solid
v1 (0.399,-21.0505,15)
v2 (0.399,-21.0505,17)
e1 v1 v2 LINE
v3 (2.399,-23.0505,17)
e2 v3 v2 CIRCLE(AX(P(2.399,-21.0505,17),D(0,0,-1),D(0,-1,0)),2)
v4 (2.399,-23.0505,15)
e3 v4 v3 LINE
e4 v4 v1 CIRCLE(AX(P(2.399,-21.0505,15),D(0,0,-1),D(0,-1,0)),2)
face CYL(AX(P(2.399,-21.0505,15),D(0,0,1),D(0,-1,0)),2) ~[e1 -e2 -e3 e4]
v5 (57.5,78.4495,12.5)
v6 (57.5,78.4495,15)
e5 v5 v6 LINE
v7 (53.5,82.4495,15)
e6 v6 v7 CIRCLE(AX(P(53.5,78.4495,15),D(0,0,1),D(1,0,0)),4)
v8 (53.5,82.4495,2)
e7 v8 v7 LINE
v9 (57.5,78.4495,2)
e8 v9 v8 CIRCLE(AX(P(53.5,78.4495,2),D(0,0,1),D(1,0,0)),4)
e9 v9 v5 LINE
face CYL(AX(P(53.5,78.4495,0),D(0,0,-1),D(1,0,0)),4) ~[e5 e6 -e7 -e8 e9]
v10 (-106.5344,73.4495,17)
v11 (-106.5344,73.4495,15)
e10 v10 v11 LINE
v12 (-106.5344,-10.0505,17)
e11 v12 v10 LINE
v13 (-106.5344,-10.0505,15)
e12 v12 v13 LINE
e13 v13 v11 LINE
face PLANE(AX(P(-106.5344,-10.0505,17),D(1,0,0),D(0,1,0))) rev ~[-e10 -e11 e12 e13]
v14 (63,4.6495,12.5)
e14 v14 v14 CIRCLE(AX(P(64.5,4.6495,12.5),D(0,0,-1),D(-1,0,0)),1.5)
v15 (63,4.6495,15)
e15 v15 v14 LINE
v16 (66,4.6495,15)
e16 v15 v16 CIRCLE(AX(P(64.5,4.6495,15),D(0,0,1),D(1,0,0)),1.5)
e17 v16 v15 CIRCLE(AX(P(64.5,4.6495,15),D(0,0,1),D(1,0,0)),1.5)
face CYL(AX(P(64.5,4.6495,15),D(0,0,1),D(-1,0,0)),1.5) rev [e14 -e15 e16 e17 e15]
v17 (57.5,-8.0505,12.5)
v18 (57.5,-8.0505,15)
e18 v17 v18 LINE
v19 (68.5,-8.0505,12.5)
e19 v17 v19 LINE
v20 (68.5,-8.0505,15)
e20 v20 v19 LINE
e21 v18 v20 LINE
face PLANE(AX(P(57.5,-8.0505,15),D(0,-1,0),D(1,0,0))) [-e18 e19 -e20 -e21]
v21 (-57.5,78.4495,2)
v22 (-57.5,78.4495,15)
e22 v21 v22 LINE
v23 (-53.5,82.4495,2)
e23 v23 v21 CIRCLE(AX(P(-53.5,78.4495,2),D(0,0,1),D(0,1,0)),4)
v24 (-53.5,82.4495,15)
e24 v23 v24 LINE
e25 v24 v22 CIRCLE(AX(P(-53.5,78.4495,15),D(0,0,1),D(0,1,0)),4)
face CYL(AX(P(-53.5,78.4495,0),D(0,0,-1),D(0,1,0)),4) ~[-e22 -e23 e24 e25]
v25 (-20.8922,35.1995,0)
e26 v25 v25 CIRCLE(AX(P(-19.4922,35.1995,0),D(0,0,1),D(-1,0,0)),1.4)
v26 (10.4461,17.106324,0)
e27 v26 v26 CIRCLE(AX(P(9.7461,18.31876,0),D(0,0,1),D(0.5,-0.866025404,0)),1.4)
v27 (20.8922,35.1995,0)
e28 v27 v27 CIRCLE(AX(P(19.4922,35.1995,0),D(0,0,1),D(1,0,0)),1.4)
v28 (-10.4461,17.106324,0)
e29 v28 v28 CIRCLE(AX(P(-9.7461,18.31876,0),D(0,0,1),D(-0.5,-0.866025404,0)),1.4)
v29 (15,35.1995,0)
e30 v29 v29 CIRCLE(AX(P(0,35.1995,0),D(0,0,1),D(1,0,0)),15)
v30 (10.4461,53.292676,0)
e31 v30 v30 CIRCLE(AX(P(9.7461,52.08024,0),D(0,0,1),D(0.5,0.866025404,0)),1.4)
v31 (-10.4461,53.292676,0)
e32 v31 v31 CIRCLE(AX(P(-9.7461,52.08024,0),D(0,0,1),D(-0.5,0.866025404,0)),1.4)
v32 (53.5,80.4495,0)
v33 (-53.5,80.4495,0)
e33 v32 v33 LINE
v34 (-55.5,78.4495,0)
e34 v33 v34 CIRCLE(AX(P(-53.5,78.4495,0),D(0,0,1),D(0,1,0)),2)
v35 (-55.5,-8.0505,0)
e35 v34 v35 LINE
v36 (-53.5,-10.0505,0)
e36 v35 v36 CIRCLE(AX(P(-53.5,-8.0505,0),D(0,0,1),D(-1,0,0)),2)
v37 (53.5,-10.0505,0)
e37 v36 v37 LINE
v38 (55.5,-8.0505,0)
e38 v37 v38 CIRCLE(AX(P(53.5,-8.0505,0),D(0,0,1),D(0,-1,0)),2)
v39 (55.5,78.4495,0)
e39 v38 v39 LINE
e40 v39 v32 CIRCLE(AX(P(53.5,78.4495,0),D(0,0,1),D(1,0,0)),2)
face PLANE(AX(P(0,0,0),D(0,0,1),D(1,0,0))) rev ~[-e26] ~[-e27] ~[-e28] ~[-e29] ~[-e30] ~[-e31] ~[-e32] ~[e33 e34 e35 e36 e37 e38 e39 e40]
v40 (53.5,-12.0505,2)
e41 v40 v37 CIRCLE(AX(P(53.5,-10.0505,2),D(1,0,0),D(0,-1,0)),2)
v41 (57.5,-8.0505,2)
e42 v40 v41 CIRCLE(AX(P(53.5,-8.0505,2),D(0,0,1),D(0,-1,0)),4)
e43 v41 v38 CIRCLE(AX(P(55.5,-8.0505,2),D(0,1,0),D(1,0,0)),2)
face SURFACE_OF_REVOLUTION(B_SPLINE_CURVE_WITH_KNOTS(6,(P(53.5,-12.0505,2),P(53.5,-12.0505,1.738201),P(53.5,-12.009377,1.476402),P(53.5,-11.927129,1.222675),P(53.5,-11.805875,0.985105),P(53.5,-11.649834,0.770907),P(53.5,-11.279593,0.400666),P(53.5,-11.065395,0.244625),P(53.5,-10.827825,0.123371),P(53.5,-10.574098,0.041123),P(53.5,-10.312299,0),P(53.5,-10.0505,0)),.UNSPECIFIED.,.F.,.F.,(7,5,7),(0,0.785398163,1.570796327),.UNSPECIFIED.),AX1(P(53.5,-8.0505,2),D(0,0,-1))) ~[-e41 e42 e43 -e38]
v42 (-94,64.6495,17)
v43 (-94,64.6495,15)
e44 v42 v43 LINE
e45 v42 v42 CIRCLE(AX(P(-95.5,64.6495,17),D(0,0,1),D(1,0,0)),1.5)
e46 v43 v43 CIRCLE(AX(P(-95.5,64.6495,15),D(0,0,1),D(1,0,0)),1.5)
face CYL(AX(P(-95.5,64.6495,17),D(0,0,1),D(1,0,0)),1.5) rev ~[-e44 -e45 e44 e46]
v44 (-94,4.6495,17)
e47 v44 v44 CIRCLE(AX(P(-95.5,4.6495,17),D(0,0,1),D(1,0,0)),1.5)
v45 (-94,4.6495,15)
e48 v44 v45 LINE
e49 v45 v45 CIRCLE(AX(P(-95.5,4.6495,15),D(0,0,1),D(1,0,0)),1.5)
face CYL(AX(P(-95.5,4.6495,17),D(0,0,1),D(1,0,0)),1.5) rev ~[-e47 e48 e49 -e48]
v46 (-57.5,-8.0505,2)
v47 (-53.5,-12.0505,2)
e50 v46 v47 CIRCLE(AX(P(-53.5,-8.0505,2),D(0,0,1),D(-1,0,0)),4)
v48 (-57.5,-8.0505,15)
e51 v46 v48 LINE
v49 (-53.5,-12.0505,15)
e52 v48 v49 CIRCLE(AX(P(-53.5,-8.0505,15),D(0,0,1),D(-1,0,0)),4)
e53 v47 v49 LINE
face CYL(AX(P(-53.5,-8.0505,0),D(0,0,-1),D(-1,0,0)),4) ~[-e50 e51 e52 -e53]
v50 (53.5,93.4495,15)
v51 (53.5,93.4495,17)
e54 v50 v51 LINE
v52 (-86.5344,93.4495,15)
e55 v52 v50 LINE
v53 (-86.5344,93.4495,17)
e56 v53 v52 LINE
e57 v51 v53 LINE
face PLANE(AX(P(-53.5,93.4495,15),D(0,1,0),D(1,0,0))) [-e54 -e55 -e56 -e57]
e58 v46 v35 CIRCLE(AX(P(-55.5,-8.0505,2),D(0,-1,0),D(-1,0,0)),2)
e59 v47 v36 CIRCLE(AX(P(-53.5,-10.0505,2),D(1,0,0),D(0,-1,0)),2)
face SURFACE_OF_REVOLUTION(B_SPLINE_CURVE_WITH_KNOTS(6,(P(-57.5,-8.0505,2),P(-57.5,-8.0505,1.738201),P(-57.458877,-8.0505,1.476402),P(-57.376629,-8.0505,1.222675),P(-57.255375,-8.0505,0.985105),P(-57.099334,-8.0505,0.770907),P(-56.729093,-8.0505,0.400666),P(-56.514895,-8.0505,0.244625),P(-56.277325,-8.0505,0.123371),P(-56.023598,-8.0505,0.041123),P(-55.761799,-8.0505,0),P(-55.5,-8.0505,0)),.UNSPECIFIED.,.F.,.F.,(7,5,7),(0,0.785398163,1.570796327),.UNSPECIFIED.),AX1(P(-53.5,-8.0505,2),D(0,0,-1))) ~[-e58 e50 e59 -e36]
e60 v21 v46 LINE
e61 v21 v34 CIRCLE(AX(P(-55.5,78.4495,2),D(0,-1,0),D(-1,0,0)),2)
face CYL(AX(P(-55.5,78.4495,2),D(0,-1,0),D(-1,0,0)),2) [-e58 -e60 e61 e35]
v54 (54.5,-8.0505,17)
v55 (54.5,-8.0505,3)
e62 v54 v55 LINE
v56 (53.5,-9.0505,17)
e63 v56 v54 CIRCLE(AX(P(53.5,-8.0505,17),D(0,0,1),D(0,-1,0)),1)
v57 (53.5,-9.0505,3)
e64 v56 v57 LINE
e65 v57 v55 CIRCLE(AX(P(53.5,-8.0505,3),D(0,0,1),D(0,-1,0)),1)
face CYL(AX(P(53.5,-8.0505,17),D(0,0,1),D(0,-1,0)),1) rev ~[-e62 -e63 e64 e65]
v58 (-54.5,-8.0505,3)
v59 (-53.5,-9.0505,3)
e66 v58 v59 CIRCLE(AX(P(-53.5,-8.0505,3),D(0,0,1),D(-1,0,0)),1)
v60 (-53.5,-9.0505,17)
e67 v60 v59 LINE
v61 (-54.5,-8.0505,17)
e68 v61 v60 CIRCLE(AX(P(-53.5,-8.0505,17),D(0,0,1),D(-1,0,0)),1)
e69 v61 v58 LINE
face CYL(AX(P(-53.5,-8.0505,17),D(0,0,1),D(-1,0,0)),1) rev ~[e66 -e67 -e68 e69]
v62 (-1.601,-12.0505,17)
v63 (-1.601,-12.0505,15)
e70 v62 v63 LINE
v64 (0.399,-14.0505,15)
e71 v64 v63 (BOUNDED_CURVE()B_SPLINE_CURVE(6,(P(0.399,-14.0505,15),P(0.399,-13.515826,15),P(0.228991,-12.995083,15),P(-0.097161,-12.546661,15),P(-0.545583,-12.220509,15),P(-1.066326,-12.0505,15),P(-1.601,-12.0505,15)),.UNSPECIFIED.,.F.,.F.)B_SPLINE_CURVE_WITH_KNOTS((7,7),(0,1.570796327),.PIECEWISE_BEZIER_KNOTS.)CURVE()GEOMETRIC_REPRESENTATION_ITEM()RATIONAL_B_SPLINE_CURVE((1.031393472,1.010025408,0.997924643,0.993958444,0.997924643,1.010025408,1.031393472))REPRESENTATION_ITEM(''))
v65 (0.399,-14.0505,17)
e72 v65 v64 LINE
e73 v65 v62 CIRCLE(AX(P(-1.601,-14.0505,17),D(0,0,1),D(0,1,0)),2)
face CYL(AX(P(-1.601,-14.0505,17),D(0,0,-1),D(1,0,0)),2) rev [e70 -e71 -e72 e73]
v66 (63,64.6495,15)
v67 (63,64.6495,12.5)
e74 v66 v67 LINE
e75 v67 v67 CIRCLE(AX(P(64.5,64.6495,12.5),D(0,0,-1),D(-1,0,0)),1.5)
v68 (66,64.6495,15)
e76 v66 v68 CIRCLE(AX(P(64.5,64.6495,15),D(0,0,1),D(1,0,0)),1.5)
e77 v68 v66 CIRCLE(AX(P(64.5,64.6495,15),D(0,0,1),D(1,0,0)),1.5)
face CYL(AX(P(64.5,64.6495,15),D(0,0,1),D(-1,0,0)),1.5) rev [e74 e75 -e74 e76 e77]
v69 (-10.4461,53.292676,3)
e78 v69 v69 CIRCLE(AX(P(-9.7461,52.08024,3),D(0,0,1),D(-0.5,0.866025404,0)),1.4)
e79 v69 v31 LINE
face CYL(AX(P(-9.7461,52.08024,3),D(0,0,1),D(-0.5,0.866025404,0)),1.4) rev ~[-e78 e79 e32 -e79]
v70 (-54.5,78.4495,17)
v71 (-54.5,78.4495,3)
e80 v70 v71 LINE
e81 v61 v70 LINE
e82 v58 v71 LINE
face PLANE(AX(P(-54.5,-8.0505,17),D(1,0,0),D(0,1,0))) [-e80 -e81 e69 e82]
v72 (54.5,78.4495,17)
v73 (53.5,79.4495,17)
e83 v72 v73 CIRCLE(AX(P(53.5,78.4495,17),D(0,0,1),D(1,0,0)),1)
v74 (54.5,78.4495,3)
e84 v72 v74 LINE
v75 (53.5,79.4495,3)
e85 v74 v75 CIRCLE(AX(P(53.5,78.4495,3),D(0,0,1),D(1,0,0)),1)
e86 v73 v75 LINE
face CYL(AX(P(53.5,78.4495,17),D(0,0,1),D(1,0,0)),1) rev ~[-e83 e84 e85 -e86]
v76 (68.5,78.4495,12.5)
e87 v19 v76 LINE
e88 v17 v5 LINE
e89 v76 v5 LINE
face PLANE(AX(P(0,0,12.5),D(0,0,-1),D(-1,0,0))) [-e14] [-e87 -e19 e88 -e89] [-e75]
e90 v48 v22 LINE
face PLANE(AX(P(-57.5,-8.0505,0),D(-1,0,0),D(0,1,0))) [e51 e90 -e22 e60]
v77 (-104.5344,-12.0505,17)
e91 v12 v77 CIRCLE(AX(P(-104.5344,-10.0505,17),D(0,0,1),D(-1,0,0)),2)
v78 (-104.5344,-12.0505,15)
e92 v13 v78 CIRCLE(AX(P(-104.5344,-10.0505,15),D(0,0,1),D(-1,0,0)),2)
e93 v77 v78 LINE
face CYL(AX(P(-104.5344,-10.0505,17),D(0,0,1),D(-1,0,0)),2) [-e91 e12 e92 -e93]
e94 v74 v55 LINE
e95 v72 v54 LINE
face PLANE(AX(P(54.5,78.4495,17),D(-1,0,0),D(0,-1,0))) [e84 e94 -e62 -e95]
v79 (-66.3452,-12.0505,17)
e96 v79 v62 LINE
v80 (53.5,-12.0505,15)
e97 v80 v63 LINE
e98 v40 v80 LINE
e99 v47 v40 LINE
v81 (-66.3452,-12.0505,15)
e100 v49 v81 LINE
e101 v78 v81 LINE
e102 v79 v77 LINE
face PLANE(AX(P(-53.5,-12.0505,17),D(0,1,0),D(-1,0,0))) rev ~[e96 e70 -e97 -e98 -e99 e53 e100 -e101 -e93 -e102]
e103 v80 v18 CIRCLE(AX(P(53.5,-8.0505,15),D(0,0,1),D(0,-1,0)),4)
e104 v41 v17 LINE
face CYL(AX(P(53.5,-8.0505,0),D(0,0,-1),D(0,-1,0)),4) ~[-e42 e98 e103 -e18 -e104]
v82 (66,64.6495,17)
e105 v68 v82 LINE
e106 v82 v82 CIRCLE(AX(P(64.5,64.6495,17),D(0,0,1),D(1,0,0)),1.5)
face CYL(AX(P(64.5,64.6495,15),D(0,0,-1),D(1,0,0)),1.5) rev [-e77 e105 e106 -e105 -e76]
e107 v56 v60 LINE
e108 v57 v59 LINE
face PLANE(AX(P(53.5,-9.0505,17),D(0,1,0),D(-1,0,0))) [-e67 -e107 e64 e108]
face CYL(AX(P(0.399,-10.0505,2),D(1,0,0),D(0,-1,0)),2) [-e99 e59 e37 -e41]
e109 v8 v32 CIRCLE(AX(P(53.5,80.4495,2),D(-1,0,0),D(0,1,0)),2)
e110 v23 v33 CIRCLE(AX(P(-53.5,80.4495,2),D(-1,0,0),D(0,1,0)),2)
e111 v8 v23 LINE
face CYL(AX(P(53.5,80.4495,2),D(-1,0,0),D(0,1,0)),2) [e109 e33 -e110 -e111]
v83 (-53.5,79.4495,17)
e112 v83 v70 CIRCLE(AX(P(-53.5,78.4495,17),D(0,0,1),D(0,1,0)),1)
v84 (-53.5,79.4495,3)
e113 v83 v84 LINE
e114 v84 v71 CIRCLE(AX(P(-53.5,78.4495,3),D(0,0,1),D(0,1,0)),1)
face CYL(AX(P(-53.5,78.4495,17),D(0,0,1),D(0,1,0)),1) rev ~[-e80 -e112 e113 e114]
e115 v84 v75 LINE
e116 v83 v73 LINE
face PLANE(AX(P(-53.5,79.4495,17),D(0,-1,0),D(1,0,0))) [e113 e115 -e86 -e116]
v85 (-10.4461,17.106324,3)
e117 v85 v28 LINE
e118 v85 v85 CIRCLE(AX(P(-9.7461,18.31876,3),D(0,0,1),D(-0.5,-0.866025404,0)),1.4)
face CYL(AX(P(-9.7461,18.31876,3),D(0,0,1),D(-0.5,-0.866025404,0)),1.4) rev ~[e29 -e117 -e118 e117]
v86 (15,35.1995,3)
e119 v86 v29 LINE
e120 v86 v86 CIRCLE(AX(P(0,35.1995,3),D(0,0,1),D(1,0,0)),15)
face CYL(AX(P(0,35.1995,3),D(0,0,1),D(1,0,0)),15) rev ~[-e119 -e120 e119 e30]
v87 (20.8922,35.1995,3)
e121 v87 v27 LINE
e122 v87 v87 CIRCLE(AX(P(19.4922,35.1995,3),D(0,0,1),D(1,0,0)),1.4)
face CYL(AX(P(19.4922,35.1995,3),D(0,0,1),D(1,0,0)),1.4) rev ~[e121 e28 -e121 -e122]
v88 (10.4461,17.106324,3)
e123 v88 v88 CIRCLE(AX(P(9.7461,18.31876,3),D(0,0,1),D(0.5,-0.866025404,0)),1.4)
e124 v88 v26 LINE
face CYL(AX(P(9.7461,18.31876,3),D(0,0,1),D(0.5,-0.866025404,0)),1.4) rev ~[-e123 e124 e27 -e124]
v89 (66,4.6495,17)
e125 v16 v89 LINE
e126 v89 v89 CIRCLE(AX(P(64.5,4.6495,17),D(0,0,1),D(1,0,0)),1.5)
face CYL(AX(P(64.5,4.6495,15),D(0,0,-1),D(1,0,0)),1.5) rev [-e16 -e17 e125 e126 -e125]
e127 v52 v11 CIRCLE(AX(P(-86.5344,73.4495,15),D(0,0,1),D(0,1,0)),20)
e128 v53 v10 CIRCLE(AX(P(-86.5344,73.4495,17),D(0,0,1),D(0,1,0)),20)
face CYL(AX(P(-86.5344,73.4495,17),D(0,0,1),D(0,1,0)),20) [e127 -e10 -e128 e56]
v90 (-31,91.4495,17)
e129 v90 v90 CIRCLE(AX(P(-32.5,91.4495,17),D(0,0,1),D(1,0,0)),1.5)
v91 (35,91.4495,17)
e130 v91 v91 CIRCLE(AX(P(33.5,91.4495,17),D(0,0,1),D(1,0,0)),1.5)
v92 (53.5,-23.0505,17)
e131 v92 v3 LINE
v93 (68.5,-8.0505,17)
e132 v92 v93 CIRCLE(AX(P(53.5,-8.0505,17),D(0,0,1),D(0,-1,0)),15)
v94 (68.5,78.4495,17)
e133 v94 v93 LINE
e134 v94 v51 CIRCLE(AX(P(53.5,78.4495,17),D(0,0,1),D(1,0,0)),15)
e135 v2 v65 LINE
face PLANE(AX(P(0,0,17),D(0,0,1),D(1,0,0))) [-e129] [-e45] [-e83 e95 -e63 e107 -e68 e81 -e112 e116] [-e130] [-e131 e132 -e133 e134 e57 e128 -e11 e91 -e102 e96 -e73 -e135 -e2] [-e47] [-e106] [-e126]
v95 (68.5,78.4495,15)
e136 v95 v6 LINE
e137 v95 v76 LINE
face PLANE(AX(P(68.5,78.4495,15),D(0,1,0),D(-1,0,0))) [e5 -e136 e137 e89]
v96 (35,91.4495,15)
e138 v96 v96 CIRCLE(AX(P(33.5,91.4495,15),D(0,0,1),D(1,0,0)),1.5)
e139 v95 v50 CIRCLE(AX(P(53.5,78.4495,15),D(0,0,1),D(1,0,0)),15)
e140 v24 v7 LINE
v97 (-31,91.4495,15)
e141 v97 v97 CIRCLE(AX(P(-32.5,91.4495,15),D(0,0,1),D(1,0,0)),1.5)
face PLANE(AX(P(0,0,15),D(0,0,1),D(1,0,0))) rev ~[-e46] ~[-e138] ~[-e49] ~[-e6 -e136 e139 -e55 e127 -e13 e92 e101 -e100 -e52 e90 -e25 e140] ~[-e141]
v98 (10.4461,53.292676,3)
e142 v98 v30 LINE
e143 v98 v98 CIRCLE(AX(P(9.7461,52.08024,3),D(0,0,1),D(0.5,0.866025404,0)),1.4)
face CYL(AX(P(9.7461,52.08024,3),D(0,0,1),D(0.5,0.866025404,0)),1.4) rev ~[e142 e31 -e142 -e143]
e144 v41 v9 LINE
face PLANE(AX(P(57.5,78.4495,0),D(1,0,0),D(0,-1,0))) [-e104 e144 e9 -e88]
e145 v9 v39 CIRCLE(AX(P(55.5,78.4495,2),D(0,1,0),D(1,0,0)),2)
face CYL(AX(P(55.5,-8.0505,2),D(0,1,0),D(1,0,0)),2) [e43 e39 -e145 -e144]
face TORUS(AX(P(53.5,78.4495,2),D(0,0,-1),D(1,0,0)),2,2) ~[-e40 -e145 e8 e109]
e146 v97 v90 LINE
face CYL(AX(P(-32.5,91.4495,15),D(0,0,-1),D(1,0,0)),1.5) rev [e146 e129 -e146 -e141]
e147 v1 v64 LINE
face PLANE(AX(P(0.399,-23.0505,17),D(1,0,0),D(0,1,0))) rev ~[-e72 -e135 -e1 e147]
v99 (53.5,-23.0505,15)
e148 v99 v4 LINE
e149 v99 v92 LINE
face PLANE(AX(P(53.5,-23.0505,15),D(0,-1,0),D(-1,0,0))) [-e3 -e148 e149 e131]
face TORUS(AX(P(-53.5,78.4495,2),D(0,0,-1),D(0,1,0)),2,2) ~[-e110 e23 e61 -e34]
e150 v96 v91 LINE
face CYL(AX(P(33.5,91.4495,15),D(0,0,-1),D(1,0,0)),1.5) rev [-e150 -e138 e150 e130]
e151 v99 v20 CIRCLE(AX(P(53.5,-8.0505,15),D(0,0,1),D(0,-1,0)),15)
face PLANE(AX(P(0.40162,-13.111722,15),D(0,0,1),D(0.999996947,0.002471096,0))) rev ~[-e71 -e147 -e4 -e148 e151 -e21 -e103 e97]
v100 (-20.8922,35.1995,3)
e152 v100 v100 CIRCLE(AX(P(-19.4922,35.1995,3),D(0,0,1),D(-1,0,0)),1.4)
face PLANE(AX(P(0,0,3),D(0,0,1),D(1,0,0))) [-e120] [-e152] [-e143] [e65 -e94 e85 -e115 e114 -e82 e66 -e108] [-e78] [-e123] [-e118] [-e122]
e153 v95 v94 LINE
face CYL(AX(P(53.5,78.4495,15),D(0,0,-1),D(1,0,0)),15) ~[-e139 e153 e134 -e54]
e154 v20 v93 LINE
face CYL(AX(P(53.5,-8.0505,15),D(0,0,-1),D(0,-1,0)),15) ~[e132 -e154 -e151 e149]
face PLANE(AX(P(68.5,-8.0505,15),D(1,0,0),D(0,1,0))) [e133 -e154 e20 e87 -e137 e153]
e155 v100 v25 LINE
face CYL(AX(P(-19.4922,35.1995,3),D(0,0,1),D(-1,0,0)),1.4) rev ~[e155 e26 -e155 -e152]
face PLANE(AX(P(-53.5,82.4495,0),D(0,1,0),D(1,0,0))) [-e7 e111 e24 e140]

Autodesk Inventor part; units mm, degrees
ref_plane "YZ Plane" through (0, 0, 0) normal (1, 0, 0) x (0, 1, 0)
ref_plane "XZ Plane" through (0, 0, 0) normal (0, 1, 0) x (-1, 0, 0)
ref_plane "XY Plane" through (0, 0, 0) normal (0, 0, 1) x (1, 0, 0)
sketch "Sketch1" plane through (0, 0, 0) normal (0, 0, 1) x (1, 0, 0)
  line L0 (53.5, -12.0505) -> (-53.5, -12.0505)
  line L1 (-57.5, -8.0505) -> (-57.5, 78.4495)
  line L2 (-53.5, 82.4495) -> (53.5, 82.4495)
  line L3 (57.5, 78.4495) -> (57.5, -8.0505)
  line L4 (57.5, -12.0505) -> (-57.5, 82.4495) construction
  line L5 (-57.5, -12.0505) -> (57.5, 82.4495) construction
  arc A0 (-53.5, 82.4495) -> (-57.5, 78.4495) centre (-53.5, 78.4495) ccw
  arc A1 (57.5, 78.4495) -> (53.5, 82.4495) centre (53.5, 78.4495) ccw
  arc A2 (53.5, -12.0505) -> (57.5, -8.0505) centre (53.5, -8.0505) ccw
  arc A3 (-57.5, -8.0505) -> (-53.5, -12.0505) centre (-53.5, -8.0505) ccw
  point P0 (0, 0)
  point P1 (0, 35.1995)
  dimension "d0" = 115
  dimension "d1" = 94.5
  dimension "d2" = 4
extrude "Extrusion1" add sketch "Sketch1" along normal blind 15
sketch "Sketch2" plane through (0, 0, 15) normal (0, 0, 1) x (1, 0, 0)
  line L0 (53.5, 82.4495) -> (-53.5, 82.4495) projected
  arc A0 (-53.5, 82.4495) -> (-57.5, 78.4495) centre (-53.5, 78.4495) ccw projected
  line L1 (-57.5, 78.4495) -> (-57.5, -8.0505) projected
  arc A1 (-57.5, -8.0505) -> (-53.5, -12.0505) centre (-53.5, -8.0505) ccw projected
  line L2 (-53.5, -12.0505) -> (53.5, -12.0505) projected
  arc A2 (53.5, -12.0505) -> (57.5, -8.0505) centre (53.5, -8.0505) ccw projected
  line L3 (57.5, -8.0505) -> (57.5, 78.4495) projected
  arc A3 (57.5, 78.4495) -> (53.5, 82.4495) centre (53.5, 78.4495) ccw projected
  line L4 (-53.5, 93.4495) -> (53.5, 93.4495)
  arc A4 (68.5, 78.4495) -> (53.5, 93.4495) centre (53.5, 78.4495) ccw
  line L5 (68.5, 78.4495) -> (68.5, -8.0505)
  arc A5 (53.5, -23.0505) -> (68.5, -8.0505) centre (53.5, -8.0505) ccw
  line L6 (53.5, -23.0505) -> (-53.5, -23.0505)
  arc A6 (-68.5, -8.0505) -> (-53.5, -23.0505) centre (-53.5, -8.0505) ccw
  line L7 (-68.5, -8.0505) -> (-68.5, 78.4495)
  arc A7 (-53.5, 93.4495) -> (-68.5, 78.4495) centre (-53.5, 78.4495) ccw
  circle A8 centre (-32.5, 91.4495) radius 1.5
  circle A9 centre (33.5, 91.4495) radius 1.5
  circle A10 centre (64.5, 64.6495) radius 1.5
  circle A11 centre (64.5, 4.6495) radius 1.5
  point P0 (0, 0)
  dimension "d5" = 11
  dimension "d6" = 3
  dimension "d7" = 3
  dimension "d8" = 3
  dimension "d9" = 3
  dimension "d10" = 24
  dimension "d11" = 66
  dimension "d12" = 9
  dimension "d13" = 7
  dimension "d14" = 7
  dimension "d15" = 17.8
  dimension "d16" = 60
extrude "Extrusion2" add sketch "Sketch2" along normal blind 2 contours A3 L3 A2 L2 A1 L1 A0 L0 | L4 A4 L5 A5 L6 A6 L7 A7
sketch "Sketch3" plane through (0, 0, 15) normal (0, 0, -1) x (-1, 0, 0)
  circle A0 centre (-64.5, 4.6495) radius 1.5 projected
  circle A1 centre (-64.5, 64.6495) radius 1.5 projected
  circle A2 centre (-33.5, 91.4495) radius 1.5 projected
  circle A3 centre (32.5, 91.4495) radius 1.5 projected
  line L0 (53.5, -23.0505) -> (-53.5, -23.0505) projected
  arc A4 (53.5, -23.0505) -> (68.5, -8.0505) centre (53.5, -8.0505) ccw projected
  line L1 (68.5, 78.4495) -> (68.5, -8.0505) projected
  arc A5 (68.5, 78.4495) -> (53.5, 93.4495) centre (53.5, 78.4495) ccw projected
  line L2 (-53.5, 93.4495) -> (53.5, 93.4495) projected
  arc A6 (-53.5, 93.4495) -> (-68.5, 78.4495) centre (-53.5, 78.4495) ccw projected
  line L3 (-68.5, -8.0505) -> (-68.5, 78.4495) projected
  arc A7 (-68.5, -8.0505) -> (-53.5, -23.0505) centre (-53.5, -8.0505) ccw projected
  arc A8 (-53.5, 82.4495) -> (-57.5, 78.4495) centre (-53.5, 78.4495) ccw projected
  line L4 (-53.5, 82.4495) -> (53.5, 82.4495) projected
  arc A9 (57.5, 78.4495) -> (53.5, 82.4495) centre (53.5, 78.4495) ccw projected
  line L5 (57.5, 78.4495) -> (57.5, -8.0505) projected
  arc A10 (53.5, -12.0505) -> (57.5, -8.0505) centre (53.5, -8.0505) ccw projected
  line L6 (53.5, -12.0505) -> (-53.5, -12.0505) projected
  arc A11 (-57.5, -8.0505) -> (-53.5, -12.0505) centre (-53.5, -8.0505) ccw projected
  line L7 (-57.5, -8.0505) -> (-57.5, 78.4495) projected
  arc A12 (-53.5, 93.4495) -> (-68.5, 78.4495) centre (-53.5, 78.4495) ccw projected
  line L8 (-57.5, -8.0505) -> (-57.5, 78.4495) projected
  line L9 (-68.5, 78.4495) -> (-57.5, 78.4495)
  line L10 (-57.5, 78.4495) -> (-57.5, -8.0505)
  line L11 (-57.5, -8.0505) -> (-68.5, -8.0505)
  line L12 (-68.5, -8.0505) -> (-68.5, 78.4495)
  point P0 (0, 0)
  point P1 (-68.5, -0.3835)
extrude "Extrusion3" add sketch "Sketch3" along normal blind 2.5 contours L3 L9 L7 L11
sketch "Sketch4" plane through (0, 0, 17) normal (0, 0, 1) x (1, 0, 0)
  line L0 (53.5, 82.4495) -> (-53.5, 82.4495) projected
  arc A0 (57.5, 78.4495) -> (53.5, 82.4495) centre (53.5, 78.4495) ccw projected
  line L1 (57.5, -8.0505) -> (57.5, 78.4495) projected
  arc A1 (53.5, -12.0505) -> (57.5, -8.0505) centre (53.5, -8.0505) ccw projected
  line L2 (-53.5, -12.0505) -> (53.5, -12.0505) projected
  arc A2 (-57.5, -8.0505) -> (-53.5, -12.0505) centre (-53.5, -8.0505) ccw projected
  line L3 (-57.5, 78.4495) -> (-57.5, -8.0505) projected
  arc A3 (-53.5, 82.4495) -> (-57.5, 78.4495) centre (-53.5, 78.4495) ccw projected
  line L4 (-53.5, 79.4495) -> (53.5, 79.4495)
  arc A4 (54.5, 78.4495) -> (53.5, 79.4495) centre (53.5, 78.4495) ccw
  line L5 (54.5, 78.4495) -> (54.5, -8.0505)
  arc A5 (53.5, -9.0505) -> (54.5, -8.0505) centre (53.5, -8.0505) ccw
  line L6 (53.5, -9.0505) -> (-53.5, -9.0505)
  arc A6 (-54.5, -8.0505) -> (-53.5, -9.0505) centre (-53.5, -8.0505) ccw
  line L7 (-54.5, -8.0505) -> (-54.5, 78.4495)
  arc A7 (-53.5, 79.4495) -> (-54.5, 78.4495) centre (-53.5, 78.4495) ccw
  point P0 (0, 0)
  dimension "d21" = 3
extrude "Extrusion4" cut sketch "Sketch4" against normal blind 14 contours L4 A4 L5 A5 L6 A6 L7 A7
sketch "Sketch7" plane through (0, 0, 17) normal (0, 0, 1) x (1, 0, 0)
  arc A0 (53.5, -9.0505) -> (54.5, -8.0505) centre (53.5, -8.0505) ccw projected
  line L0 (53.5, -9.0505) -> (-53.5, -9.0505) projected
  arc A1 (-54.5, -8.0505) -> (-53.5, -9.0505) centre (-53.5, -8.0505) ccw projected
  line L1 (-54.5, -8.0505) -> (-54.5, 78.4495) projected
  arc A2 (-53.5, 79.4495) -> (-54.5, 78.4495) centre (-53.5, 78.4495) ccw projected
  line L2 (-53.5, 79.4495) -> (53.5, 79.4495) projected
  arc A3 (54.5, 78.4495) -> (53.5, 79.4495) centre (53.5, 78.4495) ccw projected
  line L3 (54.5, 78.4495) -> (54.5, -8.0505) projected
  line L4 (-53.5, -23.0505) -> (53.5, -23.0505) projected
  arc A4 (53.5, -23.0505) -> (68.5, -8.0505) centre (53.5, -8.0505) ccw projected
  line L5 (68.5, -8.0505) -> (68.5, 78.4495) projected
  arc A5 (68.5, 78.4495) -> (53.5, 93.4495) centre (53.5, 78.4495) ccw projected
  line L6 (53.5, 93.4495) -> (-53.5, 93.4495) projected
  arc A6 (-53.5, 93.4495) -> (-68.5, 78.4495) centre (-53.5, 78.4495) ccw projected
  line L7 (-68.5, 78.4495) -> (-68.5, -8.0505) projected
  arc A7 (-68.5, -8.0505) -> (-53.5, -23.0505) centre (-53.5, -8.0505) ccw projected
  circle A8 centre (-32.5, 91.4495) radius 1.5 projected
  circle A9 centre (33.5, 91.4495) radius 1.5 projected
  circle A10 centre (64.5, 64.6495) radius 1.5 projected
  circle A11 centre (64.5, 4.6495) radius 1.5 projected
  line L8 (-53.5, -12.0505) -> (53.5, -12.0505) projected
  line L9 (-75.3145, -26.4449) -> (0.399, -26.4449)
  line L10 (0.399, -26.4449) -> (0.399, -12.0505)
  line L11 (0.399, -12.0505) -> (-75.3145, -12.0505)
  line L12 (-75.3145, -12.0505) -> (-75.3145, -26.4449)
  point P0 (0, 0)
extrude "Extrusion7" cut sketch "Sketch7" against normal through all contours A7 L11 L8 L10 L4 | L4 L10 L9 L12 L11 A7
fillet "Fillet1" radius 2 10 edges at (56.3284, -10.8789, 0) (57.5, 35.1995, 0) (56.3284, 81.2779, 0) (0, 82.4495, 0) (-56.3284, 81.2779, 0) (-57.5, 35.1995, 0) (-56.3284, -10.8789, 0) (0, -12.0505, 0) (0.399, -12.0505, 16) (0.399, -23.0505, 16)
sketch "Sketch8" plane through (0, 0, 17) normal (0, 0, 1) x (1, 0, 0)
  circle A0 centre (64.5, 64.6495) radius 1.5 projected
  circle A1 centre (64.5, 4.6495) radius 1.5 projected
  circle A2 centre (-95.5, 64.6495) radius 1.5
  circle A3 centre (-95.5, 4.6495) radius 1.5
  arc A4 (0.399, -21.0505) -> (2.399, -23.0505) centre (2.399, -21.0505) ccw projected
  line L0 (2.399, -23.0505) -> (53.5, -23.0505) projected
  arc A5 (53.5, -23.0505) -> (68.5, -8.0505) centre (53.5, -8.0505) ccw projected
  line L1 (68.5, -8.0505) -> (68.5, 78.4495) projected
  arc A6 (68.5, 78.4495) -> (53.5, 93.4495) centre (53.5, 78.4495) ccw projected
  line L2 (53.5, 93.4495) -> (-53.5, 93.4495) projected
  arc A7 (-53.5, 93.4495) -> (-68.5, 78.4495) centre (-53.5, 78.4495) ccw projected
  line L3 (-68.5, 78.4495) -> (-68.5, -8.0505) projected
  arc A8 (-68.5, -8.0505) -> (-68.3214, -10.3582) centre (-53.5, -8.0505) ccw projected
  arc A9 (-68.3214, -10.3582) -> (-66.3452, -12.0505) centre (-66.3452, -10.0505) ccw projected
  line L4 (-66.3452, -12.0505) -> (-1.601, -12.0505) projected
  arc A10 (0.399, -14.0505) -> (-1.601, -12.0505) centre (-1.601, -14.0505) ccw projected
  line L5 (0.399, -14.0505) -> (0.399, -21.0505) projected
  arc A11 (53.5, -9.0505) -> (54.5, -8.0505) centre (53.5, -8.0505) ccw projected
  line L6 (53.5, -9.0505) -> (-53.5, -9.0505) projected
  arc A12 (-54.5, -8.0505) -> (-53.5, -9.0505) centre (-53.5, -8.0505) ccw projected
  line L7 (-54.5, -8.0505) -> (-54.5, 78.4495) projected
  arc A13 (-53.5, 79.4495) -> (-54.5, 78.4495) centre (-53.5, 78.4495) ccw projected
  line L8 (-53.5, 79.4495) -> (53.5, 79.4495) projected
  arc A14 (54.5, 78.4495) -> (53.5, 79.4495) centre (53.5, 78.4495) ccw projected
  line L9 (54.5, 78.4495) -> (54.5, -8.0505) projected
  circle A15 centre (-32.5, 91.4495) radius 1.5 projected
  circle A16 centre (33.5, 91.4495) radius 1.5 projected
  circle A17 centre (64.5, 64.6495) radius 1.5 projected
  circle A18 centre (64.5, 4.6495) radius 1.5 projected
  line L10 (-106.5344, -10.0505) -> (-106.5344, 73.4495)
  arc A19 (-86.5344, 93.4495) -> (-106.5344, 73.4495) centre (-86.5344, 73.4495) ccw
  line L11 (-53.5, 93.4495) -> (-86.5344, 93.4495)
  line L12 (-53.5, -12.0505) -> (-66.3452, -12.0505) projected
  line L13 (-66.3452, -12.0505) -> (-104.5344, -12.0505)
  arc A20 (-106.5344, -10.0505) -> (-104.5344, -12.0505) centre (-104.5344, -10.0505) ccw
  point P0 (0, 0)
  dimension "d37" = 3
  dimension "d38" = 3
  dimension "d39" = 160
  dimension "d40" = 0
  dimension "d41" = 0
  dimension "d42" = 2
  dimension "d54" = 20
extrude "Extrusion8" add sketch "Sketch8" against normal up to surface (2 mm away) contours L13 A20 L10 A19 L11 A7 L3 A8 A9
sketch "Skizze9" plane through (0, 0, 3) normal (0, 0, 1) x (1, 0, 0)
  line L0 (53.5, -9.0505) -> (-53.5, -9.0505) projected
  arc A0 (53.5, -9.0505) -> (54.5, -8.0505) centre (53.5, -8.0505) ccw projected
  line L1 (54.5, 78.4495) -> (54.5, -8.0505) projected
  arc A1 (54.5, 78.4495) -> (53.5, 79.4495) centre (53.5, 78.4495) ccw projected
  line L2 (-53.5, 79.4495) -> (53.5, 79.4495) projected
  arc A2 (-53.5, 79.4495) -> (-54.5, 78.4495) centre (-53.5, 78.4495) ccw projected
  line L3 (-54.5, -8.0505) -> (-54.5, 78.4495) projected
  arc A3 (-54.5, -8.0505) -> (-53.5, -9.0505) centre (-53.5, -8.0505) ccw projected
  circle A4 centre (0, 35.1995) radius 15
  point P0 (0, 0)
  dimension "d45" = 30
extrude "Extrusion9" cut sketch "Skizze9" against normal blind 13 contours A4
sketch "Skizze10" plane through (0, 0, 3) normal (0, 0, 1) x (1, 0, 0)
  circle A0 centre (19.4922, 35.1995) radius 4 projected
  circle A1 centre (-9.7461, 52.0802) radius 4 projected
  circle A2 centre (-9.7461, 18.3188) radius 4 projected
  circle A3 centre (9.7461, 52.0802) radius 1.45 projected
  circle A4 centre (9.7461, 18.3188) radius 1.45 projected
  circle A5 centre (-19.4922, 35.1995) radius 1.45 projected
  circle A6 centre (0, 35.1995) radius 13.5 projected
  circle A7 centre (0, 35.1995) radius 23.9428 projected
  circle A8 centre (19.4922, 35.1995) radius 1.4
  point P0 (0, 0)
  dimension "d48" = 2.8
extrude "Extrusion10" cut sketch "Skizze10" against normal blind 14 contours A8
pattern_circular "Runde Anordnung1" count 6 over 360 about axis through (0, 35.1995, 3) along (0, 0, -1) of "Extrusion10"
properties part number "30_XYTable_Aliexpress_sampleinsert_round"
